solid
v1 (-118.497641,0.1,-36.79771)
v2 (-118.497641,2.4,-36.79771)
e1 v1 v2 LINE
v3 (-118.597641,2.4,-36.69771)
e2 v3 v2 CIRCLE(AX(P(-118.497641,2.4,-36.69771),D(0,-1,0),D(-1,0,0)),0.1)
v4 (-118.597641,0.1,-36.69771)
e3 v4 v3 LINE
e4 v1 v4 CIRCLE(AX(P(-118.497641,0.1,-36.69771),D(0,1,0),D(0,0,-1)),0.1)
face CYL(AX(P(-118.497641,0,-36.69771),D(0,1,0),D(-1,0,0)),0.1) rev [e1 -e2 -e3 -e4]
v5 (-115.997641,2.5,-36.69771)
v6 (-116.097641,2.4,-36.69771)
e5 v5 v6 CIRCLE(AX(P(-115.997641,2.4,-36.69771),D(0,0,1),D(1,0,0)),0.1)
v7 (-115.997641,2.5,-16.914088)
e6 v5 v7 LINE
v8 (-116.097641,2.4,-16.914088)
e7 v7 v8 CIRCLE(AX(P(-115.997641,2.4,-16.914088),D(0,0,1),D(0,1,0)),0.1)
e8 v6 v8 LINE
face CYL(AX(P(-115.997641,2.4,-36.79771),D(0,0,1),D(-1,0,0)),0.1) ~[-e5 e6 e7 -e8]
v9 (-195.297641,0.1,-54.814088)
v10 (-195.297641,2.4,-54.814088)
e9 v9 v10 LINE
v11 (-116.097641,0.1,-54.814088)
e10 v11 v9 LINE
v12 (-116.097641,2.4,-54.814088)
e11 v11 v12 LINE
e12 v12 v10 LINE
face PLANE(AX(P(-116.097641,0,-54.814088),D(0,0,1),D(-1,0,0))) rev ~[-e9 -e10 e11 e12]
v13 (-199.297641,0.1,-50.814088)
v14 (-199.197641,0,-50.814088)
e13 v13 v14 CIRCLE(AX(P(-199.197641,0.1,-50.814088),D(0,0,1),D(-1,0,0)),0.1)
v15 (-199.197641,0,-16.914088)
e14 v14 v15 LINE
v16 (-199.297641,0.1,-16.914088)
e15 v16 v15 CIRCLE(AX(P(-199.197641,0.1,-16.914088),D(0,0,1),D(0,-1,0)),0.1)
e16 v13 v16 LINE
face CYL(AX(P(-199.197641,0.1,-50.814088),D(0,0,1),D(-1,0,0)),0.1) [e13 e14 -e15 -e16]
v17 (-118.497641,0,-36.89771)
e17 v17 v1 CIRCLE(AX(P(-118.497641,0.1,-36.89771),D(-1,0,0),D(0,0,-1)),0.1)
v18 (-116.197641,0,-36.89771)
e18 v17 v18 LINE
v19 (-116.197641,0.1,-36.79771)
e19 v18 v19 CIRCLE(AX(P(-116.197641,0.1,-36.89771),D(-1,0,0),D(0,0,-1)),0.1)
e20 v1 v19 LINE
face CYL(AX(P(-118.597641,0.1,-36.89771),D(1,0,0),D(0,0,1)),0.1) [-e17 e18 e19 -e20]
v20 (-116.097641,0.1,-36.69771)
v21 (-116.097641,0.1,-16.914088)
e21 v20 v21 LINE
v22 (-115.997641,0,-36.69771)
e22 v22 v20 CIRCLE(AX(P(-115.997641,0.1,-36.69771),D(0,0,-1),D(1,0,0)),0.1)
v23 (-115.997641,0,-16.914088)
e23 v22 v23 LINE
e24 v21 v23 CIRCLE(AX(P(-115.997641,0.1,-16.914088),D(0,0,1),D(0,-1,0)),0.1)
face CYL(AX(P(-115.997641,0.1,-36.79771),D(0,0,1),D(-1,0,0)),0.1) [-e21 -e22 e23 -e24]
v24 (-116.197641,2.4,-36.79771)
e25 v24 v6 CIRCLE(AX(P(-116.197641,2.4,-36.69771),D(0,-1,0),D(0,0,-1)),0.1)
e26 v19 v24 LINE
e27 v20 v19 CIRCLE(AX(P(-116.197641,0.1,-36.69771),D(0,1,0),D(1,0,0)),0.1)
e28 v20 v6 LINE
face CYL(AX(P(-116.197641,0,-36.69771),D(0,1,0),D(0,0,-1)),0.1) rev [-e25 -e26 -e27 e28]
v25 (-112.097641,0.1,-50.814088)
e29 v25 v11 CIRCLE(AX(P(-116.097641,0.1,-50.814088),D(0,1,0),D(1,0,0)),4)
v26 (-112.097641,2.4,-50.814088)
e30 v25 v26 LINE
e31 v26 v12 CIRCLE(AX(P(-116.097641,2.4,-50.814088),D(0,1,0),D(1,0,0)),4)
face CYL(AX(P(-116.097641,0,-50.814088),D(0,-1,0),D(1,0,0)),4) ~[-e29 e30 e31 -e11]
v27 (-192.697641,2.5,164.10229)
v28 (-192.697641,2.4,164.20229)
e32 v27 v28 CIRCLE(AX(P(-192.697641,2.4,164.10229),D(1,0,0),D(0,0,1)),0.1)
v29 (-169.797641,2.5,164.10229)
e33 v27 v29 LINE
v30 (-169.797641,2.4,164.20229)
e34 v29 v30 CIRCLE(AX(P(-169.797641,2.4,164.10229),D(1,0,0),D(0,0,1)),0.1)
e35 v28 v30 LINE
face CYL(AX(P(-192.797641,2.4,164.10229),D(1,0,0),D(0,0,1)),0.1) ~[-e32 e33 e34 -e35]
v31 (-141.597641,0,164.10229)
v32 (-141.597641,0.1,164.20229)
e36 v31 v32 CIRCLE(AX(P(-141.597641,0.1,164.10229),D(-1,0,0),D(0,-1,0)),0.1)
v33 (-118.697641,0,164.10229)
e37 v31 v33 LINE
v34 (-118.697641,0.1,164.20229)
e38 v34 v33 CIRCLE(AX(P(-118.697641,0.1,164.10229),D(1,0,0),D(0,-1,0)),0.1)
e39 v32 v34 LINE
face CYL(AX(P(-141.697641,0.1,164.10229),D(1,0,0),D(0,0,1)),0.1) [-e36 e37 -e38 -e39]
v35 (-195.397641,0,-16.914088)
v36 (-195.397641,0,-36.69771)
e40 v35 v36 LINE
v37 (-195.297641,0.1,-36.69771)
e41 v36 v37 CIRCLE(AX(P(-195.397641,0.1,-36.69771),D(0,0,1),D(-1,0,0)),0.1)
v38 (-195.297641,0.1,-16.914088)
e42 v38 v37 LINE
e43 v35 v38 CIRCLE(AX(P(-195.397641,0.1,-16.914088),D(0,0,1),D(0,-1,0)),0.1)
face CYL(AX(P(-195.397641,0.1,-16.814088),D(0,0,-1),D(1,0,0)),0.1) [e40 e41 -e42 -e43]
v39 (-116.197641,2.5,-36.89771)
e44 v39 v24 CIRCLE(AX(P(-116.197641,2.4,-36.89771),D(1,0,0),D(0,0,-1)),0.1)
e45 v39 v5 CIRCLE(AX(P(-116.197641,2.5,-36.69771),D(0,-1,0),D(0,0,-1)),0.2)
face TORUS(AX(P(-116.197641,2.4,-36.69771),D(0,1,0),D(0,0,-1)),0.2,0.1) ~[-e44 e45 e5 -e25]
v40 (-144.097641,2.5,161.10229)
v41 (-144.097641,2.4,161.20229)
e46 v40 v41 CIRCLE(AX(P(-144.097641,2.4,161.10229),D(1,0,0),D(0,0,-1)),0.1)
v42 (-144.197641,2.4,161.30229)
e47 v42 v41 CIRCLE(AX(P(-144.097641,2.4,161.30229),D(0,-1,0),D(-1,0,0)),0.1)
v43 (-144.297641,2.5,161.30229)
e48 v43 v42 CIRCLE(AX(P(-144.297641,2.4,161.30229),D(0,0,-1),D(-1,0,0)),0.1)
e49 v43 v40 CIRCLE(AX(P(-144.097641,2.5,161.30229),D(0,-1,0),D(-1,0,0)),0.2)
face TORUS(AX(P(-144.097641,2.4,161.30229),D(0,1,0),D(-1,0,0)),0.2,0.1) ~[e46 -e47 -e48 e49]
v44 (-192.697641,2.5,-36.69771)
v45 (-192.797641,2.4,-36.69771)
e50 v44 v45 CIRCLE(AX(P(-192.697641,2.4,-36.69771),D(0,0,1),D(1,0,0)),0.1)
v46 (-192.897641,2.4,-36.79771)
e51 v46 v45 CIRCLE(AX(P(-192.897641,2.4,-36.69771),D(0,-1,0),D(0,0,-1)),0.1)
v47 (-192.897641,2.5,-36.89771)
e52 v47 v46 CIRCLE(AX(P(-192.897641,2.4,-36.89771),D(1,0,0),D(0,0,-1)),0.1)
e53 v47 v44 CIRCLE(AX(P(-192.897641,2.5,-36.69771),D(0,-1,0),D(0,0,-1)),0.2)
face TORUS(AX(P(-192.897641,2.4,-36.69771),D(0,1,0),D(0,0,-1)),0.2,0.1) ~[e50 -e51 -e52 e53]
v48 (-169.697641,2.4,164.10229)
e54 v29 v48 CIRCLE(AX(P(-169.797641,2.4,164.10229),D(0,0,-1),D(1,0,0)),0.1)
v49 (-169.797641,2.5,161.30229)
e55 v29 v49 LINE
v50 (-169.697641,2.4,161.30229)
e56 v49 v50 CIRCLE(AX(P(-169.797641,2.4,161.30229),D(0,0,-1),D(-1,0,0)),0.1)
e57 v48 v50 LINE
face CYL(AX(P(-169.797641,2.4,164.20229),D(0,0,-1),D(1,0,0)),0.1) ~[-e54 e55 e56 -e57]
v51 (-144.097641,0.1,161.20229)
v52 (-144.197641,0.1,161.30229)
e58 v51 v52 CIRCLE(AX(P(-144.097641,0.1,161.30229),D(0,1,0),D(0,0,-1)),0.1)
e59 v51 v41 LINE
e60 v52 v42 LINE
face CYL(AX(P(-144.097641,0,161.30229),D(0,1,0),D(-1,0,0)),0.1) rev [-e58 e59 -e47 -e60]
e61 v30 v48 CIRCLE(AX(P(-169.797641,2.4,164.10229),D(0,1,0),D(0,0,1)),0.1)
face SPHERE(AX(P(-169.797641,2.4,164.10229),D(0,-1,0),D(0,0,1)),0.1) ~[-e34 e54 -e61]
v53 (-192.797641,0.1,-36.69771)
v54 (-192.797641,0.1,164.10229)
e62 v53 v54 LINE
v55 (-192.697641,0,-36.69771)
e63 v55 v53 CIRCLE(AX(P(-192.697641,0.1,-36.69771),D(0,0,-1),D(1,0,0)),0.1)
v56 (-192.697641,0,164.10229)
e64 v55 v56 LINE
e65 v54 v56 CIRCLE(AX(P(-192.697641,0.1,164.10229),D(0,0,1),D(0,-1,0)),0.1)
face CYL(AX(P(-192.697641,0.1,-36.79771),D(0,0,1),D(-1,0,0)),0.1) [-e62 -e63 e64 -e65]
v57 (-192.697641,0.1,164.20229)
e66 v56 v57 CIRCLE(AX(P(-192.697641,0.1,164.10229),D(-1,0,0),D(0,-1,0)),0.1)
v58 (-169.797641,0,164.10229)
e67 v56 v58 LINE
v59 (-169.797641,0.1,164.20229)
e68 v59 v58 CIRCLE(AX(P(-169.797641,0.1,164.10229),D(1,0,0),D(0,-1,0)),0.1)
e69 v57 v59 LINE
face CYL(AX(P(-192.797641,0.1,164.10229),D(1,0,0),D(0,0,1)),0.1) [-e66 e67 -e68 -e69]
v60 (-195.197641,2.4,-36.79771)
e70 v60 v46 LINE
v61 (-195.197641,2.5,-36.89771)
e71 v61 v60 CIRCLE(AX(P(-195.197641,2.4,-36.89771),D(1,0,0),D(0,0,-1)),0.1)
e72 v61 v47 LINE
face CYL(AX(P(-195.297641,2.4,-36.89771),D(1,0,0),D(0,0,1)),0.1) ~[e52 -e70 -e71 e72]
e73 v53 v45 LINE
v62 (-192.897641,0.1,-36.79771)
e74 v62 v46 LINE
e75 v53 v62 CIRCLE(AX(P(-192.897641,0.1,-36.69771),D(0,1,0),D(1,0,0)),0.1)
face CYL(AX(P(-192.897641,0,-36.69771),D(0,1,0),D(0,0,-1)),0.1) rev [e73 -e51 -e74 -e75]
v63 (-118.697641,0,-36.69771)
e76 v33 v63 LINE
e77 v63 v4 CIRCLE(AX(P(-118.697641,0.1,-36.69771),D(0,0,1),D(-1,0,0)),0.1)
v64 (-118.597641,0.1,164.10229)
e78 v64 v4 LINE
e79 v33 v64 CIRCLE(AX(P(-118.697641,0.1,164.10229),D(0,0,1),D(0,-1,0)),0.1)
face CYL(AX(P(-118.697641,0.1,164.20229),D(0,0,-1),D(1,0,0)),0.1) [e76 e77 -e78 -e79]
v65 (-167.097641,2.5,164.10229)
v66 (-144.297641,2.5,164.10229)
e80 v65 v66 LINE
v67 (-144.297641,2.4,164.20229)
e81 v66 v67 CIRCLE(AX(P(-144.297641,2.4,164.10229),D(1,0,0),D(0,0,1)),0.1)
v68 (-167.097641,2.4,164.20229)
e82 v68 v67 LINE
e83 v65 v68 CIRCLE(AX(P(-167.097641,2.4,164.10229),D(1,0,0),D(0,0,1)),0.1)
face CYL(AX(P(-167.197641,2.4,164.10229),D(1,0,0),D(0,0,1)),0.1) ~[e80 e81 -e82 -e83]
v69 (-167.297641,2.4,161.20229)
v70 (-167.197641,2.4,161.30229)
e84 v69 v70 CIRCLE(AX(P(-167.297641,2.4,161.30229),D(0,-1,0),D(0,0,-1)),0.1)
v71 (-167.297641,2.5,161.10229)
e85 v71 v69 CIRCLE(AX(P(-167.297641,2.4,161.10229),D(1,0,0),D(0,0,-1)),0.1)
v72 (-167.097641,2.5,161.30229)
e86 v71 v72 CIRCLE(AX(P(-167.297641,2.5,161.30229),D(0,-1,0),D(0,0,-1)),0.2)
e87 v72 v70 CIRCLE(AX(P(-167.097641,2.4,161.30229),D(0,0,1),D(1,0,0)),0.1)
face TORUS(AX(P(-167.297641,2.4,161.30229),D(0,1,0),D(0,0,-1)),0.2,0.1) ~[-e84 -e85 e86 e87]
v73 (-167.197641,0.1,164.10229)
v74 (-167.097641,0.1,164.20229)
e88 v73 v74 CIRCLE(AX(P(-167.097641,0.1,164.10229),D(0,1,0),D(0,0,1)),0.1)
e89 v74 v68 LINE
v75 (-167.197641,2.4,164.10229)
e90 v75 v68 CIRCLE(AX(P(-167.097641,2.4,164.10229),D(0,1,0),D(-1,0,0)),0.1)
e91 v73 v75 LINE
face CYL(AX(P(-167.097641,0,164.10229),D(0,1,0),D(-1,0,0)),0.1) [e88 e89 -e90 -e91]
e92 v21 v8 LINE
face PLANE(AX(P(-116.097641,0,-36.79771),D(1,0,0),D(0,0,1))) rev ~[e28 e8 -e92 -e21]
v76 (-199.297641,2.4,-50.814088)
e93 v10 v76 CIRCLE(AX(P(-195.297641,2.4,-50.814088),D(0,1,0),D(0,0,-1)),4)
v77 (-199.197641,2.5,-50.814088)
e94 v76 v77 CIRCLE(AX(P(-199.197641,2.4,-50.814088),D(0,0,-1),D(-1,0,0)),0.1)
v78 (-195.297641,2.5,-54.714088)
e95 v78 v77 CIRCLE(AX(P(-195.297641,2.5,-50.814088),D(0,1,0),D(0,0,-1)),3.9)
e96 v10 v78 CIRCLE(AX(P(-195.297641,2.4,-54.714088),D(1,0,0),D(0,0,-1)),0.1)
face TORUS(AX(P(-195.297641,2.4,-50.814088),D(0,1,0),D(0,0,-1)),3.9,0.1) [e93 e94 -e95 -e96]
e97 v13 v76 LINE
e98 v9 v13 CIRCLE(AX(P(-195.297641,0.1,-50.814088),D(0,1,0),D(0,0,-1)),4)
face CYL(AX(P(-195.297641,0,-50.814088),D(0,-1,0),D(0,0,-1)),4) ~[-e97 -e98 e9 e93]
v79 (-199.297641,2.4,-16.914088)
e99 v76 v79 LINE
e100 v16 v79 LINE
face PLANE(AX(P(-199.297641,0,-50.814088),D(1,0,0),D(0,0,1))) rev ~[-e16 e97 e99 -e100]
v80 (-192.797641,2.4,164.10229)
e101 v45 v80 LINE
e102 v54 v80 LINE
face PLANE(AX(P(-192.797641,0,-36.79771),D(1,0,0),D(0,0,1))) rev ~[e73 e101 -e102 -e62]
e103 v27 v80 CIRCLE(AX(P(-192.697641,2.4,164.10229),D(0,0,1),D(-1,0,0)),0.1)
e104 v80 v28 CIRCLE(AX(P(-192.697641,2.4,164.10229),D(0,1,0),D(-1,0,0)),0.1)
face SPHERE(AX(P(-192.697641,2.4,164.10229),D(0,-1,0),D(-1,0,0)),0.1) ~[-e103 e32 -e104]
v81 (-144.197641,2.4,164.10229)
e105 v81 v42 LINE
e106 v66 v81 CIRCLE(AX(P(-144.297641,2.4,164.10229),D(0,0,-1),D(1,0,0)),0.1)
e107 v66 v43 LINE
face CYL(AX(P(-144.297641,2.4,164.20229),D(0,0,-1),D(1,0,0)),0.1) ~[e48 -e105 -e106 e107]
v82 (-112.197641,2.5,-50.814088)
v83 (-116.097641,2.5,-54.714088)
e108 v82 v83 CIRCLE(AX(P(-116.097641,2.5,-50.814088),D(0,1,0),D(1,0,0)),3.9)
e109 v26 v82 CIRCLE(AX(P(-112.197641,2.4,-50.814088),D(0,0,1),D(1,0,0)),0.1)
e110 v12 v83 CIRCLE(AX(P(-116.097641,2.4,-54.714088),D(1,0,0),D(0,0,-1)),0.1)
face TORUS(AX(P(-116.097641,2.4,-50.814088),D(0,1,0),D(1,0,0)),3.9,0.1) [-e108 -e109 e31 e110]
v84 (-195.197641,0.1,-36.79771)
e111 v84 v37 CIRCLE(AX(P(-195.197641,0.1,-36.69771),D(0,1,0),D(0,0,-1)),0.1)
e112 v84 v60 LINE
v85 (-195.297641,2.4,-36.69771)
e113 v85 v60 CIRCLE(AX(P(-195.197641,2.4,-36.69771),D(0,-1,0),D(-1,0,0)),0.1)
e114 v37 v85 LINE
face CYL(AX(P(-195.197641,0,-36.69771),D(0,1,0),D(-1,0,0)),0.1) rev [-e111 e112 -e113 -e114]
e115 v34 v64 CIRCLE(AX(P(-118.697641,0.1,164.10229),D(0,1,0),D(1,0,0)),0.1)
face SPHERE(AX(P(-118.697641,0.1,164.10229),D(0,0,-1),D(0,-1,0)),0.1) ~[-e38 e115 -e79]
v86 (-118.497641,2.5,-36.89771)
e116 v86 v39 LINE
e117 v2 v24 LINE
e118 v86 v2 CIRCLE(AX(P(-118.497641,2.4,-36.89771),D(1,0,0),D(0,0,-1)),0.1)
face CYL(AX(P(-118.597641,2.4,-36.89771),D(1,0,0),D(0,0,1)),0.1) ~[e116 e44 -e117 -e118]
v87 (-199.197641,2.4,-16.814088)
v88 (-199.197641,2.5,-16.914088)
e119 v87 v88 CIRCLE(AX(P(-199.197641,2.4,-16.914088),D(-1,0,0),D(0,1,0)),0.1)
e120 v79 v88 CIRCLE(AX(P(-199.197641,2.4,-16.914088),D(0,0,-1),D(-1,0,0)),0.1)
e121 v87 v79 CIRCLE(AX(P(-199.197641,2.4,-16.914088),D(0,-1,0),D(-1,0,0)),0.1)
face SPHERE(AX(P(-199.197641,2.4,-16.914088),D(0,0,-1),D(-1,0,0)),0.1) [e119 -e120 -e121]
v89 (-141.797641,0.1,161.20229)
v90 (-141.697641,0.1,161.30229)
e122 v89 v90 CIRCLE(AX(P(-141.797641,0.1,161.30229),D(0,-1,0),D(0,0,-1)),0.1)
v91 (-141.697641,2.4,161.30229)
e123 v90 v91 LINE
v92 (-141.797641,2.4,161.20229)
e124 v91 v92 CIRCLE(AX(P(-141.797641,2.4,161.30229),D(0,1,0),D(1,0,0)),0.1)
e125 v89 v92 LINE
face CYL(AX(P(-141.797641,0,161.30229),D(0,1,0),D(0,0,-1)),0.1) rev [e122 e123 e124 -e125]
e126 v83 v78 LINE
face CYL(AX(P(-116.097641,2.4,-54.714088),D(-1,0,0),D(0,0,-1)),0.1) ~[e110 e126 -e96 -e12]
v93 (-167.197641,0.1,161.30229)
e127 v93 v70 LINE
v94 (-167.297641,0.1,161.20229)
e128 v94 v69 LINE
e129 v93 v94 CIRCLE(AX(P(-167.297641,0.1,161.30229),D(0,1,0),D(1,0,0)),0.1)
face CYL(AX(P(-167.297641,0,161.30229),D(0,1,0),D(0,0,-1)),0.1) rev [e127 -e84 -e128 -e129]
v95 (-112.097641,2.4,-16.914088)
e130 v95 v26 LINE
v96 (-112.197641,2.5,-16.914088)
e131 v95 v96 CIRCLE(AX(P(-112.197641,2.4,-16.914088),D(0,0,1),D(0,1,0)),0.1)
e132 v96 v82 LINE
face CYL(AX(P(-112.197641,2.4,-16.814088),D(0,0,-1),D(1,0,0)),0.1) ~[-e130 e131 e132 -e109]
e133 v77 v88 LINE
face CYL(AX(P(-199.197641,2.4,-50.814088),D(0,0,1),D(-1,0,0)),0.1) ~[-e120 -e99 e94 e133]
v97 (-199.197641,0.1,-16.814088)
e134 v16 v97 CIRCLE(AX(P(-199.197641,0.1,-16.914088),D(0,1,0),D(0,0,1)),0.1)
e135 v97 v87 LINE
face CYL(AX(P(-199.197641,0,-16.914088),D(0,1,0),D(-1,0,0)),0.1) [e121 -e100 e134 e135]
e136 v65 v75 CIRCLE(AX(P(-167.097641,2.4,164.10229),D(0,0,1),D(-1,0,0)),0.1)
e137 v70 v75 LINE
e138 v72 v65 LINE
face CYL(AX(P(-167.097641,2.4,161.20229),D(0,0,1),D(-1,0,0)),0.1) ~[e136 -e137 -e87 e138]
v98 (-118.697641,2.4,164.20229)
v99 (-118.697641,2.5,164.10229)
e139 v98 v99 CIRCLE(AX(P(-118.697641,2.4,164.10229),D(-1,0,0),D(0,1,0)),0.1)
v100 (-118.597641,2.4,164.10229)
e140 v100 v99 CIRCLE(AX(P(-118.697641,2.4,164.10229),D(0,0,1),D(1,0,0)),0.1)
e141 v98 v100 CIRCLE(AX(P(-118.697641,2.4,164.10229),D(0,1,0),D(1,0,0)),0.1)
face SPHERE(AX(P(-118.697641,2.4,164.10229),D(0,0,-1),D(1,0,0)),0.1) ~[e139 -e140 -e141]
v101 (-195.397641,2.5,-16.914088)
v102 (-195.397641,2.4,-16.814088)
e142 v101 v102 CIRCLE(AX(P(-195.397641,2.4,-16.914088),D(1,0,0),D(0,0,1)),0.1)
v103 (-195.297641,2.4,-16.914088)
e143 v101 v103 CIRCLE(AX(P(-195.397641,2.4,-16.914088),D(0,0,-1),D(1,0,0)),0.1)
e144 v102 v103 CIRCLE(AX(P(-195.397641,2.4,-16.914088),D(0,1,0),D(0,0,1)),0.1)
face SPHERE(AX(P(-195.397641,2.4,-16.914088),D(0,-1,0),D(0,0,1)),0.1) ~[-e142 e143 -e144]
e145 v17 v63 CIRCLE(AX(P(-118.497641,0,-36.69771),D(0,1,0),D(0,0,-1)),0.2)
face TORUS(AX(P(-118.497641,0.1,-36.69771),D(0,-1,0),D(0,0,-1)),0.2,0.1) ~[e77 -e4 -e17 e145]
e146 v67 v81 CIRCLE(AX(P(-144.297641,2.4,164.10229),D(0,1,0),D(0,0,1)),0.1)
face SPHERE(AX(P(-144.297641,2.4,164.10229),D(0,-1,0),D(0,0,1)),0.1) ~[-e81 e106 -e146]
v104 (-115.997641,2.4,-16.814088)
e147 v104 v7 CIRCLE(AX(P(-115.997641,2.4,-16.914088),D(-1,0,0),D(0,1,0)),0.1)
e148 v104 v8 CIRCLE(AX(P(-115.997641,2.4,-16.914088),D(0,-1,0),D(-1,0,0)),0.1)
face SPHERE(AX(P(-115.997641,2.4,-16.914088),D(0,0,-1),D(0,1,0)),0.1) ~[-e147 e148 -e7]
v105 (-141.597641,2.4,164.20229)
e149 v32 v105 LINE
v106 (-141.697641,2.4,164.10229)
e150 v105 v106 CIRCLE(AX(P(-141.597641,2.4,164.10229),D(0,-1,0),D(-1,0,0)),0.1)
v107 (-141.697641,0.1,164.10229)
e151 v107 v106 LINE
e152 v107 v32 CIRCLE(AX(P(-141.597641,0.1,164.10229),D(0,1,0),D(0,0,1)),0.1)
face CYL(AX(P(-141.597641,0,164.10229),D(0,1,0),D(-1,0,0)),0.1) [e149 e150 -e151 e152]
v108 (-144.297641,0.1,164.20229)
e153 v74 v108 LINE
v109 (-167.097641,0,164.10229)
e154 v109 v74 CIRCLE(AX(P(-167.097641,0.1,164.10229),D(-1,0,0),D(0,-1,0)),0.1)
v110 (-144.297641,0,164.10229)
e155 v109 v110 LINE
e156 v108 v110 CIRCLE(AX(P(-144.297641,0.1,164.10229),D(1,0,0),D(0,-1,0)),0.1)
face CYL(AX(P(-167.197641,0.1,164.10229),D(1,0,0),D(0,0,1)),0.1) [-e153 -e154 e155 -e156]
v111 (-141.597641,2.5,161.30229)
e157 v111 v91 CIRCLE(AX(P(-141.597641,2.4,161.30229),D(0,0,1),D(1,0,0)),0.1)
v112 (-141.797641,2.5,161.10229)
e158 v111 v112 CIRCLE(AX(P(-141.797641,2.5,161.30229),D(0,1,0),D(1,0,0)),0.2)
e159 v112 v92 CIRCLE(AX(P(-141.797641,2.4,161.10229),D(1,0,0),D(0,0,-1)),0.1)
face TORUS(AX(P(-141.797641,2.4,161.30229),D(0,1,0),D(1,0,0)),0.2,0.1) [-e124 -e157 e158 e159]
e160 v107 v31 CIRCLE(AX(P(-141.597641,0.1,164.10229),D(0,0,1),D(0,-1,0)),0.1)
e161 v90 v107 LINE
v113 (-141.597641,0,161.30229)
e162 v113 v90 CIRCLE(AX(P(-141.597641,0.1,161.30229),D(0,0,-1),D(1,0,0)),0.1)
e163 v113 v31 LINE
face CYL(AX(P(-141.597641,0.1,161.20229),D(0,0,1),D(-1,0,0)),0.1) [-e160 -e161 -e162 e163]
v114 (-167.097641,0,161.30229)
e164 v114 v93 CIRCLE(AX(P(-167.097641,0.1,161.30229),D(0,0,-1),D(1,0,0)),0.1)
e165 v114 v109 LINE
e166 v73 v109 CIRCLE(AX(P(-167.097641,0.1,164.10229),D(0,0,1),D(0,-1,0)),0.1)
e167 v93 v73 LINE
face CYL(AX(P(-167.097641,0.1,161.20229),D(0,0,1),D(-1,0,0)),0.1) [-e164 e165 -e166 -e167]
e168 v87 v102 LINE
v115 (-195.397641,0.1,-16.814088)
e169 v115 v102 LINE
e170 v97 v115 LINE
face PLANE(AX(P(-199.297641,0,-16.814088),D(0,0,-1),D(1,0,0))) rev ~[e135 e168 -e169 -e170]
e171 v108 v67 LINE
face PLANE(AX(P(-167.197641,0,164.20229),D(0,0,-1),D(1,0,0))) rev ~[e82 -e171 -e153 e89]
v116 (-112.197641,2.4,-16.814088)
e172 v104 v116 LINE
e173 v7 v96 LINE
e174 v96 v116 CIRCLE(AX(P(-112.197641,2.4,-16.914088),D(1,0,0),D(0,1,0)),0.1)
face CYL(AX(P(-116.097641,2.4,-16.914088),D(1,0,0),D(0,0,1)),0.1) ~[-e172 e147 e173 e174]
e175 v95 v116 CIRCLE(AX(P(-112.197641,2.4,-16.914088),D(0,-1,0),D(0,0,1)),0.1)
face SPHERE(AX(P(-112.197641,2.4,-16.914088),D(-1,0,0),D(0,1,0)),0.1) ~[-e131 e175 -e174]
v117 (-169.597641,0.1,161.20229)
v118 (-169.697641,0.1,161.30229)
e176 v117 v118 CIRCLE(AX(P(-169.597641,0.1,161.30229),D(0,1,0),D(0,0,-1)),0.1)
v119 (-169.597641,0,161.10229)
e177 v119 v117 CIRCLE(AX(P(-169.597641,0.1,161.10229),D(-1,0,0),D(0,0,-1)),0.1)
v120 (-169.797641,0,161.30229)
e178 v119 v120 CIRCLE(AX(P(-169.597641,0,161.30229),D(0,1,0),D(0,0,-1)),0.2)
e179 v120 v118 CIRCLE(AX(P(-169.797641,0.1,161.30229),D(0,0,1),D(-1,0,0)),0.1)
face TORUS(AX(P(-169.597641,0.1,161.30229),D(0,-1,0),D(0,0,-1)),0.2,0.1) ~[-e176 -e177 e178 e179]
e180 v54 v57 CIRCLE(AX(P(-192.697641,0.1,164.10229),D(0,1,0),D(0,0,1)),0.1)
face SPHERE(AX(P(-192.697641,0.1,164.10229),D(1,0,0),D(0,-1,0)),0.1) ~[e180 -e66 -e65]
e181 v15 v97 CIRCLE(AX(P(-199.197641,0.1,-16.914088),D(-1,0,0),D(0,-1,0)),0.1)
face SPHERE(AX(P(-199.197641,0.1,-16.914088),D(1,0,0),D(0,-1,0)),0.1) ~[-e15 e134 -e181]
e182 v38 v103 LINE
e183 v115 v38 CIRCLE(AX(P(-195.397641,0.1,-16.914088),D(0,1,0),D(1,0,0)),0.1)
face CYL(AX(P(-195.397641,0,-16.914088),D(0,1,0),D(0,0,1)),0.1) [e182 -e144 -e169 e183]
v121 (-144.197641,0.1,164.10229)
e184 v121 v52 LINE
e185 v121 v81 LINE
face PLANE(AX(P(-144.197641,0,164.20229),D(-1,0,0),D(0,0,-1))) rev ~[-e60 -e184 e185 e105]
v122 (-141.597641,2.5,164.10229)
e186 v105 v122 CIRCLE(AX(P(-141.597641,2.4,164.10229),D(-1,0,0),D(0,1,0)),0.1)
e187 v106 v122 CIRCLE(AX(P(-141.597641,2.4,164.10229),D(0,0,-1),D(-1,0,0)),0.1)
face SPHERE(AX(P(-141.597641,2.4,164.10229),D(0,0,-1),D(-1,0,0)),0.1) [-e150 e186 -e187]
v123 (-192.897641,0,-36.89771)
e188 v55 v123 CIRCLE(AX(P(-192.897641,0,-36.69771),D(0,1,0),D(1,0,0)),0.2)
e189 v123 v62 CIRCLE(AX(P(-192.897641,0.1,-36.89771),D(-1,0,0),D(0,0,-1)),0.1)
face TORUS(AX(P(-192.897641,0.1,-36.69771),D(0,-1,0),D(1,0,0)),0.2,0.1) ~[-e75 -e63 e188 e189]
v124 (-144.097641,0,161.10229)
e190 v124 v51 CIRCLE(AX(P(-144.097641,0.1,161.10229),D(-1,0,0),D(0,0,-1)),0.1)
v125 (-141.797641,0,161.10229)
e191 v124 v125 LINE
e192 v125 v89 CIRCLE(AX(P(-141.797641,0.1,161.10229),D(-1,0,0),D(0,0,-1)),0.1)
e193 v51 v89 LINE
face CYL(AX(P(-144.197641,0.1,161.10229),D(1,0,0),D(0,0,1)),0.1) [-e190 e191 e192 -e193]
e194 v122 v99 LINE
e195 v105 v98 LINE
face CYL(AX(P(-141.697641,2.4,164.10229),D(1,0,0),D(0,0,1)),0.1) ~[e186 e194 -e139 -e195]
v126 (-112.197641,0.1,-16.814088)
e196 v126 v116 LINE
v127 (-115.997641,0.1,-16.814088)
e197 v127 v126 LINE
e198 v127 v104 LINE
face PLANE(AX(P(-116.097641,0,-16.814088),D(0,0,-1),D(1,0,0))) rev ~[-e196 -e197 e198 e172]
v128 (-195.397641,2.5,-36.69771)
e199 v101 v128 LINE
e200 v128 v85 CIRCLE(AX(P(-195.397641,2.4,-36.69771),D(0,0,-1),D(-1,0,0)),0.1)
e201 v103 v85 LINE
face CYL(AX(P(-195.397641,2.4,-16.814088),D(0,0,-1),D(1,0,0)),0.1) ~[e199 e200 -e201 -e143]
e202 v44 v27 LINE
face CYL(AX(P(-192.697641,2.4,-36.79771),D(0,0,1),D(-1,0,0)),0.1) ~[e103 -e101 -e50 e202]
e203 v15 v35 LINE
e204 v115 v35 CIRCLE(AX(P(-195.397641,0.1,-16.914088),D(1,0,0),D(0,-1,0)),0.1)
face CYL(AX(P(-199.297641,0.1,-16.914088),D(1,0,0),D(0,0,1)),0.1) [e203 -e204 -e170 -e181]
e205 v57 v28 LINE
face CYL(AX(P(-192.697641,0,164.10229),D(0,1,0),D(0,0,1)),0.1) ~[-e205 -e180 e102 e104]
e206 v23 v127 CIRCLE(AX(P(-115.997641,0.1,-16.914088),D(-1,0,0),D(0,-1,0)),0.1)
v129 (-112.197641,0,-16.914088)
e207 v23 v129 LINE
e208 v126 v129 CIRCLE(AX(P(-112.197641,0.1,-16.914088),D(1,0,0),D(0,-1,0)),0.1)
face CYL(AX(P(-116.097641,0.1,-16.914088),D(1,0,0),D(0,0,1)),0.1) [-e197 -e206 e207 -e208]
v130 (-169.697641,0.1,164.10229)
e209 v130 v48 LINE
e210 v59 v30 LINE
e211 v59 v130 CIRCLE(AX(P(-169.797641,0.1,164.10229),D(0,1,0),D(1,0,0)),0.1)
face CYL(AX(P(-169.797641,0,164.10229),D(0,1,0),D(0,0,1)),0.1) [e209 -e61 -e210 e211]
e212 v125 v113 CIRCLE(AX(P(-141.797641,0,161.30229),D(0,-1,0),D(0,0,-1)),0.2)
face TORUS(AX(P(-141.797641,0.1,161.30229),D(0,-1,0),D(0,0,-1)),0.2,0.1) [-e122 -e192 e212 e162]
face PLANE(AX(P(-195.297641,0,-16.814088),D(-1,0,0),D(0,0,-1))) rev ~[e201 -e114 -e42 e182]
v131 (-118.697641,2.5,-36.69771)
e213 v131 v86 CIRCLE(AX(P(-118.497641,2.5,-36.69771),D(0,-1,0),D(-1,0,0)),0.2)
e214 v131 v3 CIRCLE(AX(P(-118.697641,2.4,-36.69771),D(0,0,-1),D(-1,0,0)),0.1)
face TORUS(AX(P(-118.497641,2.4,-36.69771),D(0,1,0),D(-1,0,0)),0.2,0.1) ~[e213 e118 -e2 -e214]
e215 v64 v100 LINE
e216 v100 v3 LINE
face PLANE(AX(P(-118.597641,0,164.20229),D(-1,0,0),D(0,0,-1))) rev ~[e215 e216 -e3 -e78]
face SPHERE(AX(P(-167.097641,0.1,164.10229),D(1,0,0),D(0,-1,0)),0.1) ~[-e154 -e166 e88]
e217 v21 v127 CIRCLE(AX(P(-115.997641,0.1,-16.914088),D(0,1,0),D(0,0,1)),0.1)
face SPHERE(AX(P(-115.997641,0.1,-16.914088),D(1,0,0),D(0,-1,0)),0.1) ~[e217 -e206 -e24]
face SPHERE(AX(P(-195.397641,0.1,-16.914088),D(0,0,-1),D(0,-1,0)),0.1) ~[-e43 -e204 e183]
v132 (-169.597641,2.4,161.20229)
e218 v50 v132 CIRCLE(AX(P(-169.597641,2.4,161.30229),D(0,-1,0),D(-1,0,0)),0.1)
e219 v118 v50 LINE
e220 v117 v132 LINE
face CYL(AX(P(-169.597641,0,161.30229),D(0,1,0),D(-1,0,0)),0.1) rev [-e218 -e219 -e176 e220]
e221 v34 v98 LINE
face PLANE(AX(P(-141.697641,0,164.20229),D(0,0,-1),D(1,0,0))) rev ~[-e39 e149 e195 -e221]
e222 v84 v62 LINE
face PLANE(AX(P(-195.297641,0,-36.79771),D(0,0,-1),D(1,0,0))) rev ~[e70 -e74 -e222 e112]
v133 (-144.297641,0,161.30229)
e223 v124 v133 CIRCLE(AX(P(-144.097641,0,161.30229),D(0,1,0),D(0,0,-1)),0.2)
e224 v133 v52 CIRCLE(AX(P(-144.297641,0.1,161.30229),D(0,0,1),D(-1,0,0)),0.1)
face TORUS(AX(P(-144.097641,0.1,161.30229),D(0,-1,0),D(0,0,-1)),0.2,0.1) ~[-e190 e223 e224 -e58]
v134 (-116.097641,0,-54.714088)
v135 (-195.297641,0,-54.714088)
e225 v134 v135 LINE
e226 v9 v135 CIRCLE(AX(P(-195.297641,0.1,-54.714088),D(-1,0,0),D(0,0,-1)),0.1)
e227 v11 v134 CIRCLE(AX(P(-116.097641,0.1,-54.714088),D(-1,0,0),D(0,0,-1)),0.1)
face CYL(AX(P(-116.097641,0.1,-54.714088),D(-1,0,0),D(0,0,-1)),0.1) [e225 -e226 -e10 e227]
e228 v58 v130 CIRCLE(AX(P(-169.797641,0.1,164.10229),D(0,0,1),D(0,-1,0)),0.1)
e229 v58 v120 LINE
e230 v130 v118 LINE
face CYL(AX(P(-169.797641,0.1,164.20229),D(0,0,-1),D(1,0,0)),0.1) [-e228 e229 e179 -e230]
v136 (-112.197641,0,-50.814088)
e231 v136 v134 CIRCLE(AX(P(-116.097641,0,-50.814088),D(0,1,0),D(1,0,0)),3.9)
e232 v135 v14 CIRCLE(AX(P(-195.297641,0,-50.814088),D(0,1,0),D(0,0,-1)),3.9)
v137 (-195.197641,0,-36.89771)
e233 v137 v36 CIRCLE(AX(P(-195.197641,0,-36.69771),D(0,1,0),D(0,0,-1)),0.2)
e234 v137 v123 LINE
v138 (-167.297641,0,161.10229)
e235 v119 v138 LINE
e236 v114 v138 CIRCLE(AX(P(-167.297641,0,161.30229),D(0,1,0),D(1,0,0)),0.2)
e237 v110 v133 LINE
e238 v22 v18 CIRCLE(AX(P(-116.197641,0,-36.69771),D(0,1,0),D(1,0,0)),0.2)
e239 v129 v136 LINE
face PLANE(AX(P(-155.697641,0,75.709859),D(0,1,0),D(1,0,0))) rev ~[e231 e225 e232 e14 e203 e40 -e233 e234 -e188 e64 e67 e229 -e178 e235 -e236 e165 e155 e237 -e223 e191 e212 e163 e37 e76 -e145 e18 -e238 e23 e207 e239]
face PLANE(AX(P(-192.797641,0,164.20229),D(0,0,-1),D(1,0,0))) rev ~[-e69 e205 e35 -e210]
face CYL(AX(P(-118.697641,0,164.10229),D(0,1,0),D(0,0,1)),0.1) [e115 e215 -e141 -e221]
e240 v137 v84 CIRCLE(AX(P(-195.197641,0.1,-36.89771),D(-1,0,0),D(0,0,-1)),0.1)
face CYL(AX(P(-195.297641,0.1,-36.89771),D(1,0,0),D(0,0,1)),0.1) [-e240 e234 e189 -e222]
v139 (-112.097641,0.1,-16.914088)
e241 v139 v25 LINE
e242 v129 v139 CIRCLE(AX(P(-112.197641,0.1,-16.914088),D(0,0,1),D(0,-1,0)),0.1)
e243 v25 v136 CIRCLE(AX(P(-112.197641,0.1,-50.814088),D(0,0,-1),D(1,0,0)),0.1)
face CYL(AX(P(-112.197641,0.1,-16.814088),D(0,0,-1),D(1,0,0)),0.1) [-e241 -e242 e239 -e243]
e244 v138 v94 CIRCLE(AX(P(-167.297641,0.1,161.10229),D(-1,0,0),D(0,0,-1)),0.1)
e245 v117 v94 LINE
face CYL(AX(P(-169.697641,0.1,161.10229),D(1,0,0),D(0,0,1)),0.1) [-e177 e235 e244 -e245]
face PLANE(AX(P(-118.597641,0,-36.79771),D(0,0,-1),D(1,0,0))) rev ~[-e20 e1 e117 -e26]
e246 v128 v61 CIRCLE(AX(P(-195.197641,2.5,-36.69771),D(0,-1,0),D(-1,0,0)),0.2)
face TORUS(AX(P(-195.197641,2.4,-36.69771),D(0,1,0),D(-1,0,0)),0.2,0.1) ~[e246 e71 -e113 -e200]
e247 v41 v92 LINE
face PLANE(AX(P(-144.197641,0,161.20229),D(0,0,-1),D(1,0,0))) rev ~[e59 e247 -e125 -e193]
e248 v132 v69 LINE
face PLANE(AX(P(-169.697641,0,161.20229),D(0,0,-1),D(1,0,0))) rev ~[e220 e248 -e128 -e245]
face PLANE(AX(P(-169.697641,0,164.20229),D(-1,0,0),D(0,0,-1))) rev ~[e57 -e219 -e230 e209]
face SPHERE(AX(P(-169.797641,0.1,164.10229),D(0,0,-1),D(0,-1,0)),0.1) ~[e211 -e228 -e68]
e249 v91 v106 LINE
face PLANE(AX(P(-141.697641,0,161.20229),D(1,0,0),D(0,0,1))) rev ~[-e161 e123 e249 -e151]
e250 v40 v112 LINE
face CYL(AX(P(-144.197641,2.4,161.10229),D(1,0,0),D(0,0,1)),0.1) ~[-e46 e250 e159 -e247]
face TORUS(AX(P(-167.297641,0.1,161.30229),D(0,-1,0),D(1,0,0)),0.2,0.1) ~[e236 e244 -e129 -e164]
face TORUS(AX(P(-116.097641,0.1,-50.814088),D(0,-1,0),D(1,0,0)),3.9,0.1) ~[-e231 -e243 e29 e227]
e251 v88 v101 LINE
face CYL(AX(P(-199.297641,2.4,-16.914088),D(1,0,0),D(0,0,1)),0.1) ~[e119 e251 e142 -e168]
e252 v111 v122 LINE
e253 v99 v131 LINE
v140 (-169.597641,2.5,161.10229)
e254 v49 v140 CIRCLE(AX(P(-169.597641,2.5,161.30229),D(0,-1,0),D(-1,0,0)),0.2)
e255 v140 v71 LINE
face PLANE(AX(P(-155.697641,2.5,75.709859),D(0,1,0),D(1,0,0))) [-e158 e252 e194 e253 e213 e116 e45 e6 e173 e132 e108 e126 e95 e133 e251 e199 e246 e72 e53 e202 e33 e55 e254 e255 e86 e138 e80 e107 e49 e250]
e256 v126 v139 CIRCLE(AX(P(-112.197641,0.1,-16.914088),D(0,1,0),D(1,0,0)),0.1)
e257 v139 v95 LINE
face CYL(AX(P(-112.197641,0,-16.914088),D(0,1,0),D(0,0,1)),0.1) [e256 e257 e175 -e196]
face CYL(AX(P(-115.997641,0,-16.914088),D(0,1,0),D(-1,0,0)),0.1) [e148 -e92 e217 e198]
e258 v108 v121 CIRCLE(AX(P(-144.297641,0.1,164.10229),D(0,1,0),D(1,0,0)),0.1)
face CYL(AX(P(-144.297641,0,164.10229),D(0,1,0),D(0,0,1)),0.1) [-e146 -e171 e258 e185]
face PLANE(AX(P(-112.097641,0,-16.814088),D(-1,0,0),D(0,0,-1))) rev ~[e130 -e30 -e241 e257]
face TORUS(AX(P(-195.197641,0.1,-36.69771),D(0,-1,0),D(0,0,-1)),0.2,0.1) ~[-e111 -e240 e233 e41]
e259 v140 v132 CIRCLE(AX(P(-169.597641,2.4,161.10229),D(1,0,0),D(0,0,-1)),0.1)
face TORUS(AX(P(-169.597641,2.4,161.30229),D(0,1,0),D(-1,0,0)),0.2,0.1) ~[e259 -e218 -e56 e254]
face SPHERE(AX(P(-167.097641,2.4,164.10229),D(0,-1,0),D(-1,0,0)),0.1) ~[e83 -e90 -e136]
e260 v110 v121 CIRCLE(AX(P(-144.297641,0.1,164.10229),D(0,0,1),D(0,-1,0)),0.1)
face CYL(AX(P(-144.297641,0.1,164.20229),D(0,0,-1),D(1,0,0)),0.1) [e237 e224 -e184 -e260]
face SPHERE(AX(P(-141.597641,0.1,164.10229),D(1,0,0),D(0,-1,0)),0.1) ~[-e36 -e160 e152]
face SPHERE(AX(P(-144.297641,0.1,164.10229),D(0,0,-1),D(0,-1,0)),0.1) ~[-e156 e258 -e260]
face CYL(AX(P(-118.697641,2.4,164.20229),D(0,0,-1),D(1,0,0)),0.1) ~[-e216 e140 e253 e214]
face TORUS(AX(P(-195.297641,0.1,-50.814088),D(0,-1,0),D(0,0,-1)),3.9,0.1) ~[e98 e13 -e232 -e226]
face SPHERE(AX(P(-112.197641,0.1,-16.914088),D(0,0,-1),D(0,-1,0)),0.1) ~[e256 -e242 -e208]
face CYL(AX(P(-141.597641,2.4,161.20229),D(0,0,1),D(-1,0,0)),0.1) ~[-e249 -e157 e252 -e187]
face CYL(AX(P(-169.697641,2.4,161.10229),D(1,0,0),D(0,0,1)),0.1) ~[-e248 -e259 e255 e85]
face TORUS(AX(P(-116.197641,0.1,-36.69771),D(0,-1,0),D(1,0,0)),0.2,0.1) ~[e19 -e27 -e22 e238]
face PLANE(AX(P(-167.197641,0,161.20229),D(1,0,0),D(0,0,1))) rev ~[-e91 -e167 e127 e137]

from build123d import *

# Parameters (mm, degrees)
ESBO_O1_W                = 74.2
ESBO_O1_H                = 19.98362215
RESSALTO_EXTRUS_O1_DEPTH = 2.5
FILETE1_R                = 0.1


with BuildPart() as part:
    # Esboço1 → Ressalto-extrusão1 (new body)
    with BuildSketch(Plane(origin=(0, 0, 0), x_dir=(1, 0, 0), z_dir=(0, 1, 0))):
        Polygon((-118.597641475, 16.814088048), (-192.797641475, 16.814088048), (-192.797641475, -164.202289802), (-169.697641475, -164.202289802), (-169.697641475, -161.202289802), (-167.197641475, -161.202289802), (-167.197641475, -164.202289802), (-144.197641475, -164.202289802), (-144.197641475, -161.202289802), (-141.697641475, -161.202289802), (-141.697641475, -164.202289802), (-118.597641475, -164.202289802), align=None)
        with Locations((-155.697641475, 26.805899123)):
            Rectangle(ESBO_O1_W, ESBO_O1_H)
        with BuildLine():
            Line((-195.297641475, 36.797710198), (-192.797641475, 36.797710198))
            Line((-192.797641475, 36.797710198), (-118.597641475, 36.797710198))
            Line((-118.597641475, 36.797710198), (-116.097641475, 36.797710198))
            Line((-116.097641475, 36.797710198), (-116.097641475, 16.814088048))
            Line((-116.097641475, 16.814088048), (-112.097641475, 16.814088048))
            Line((-112.097641475, 16.814088048), (-112.097641475, 50.814088048))
            ThreePointArc((-112.097641475, 50.814088048), (-113.26921435, 53.642515173), (-116.097641475, 54.814088048))
            Line((-116.097641475, 54.814088048), (-195.297641475, 54.814088048))
            ThreePointArc((-195.297641475, 54.814088048), (-198.126068599, 53.642515173), (-199.297641475, 50.814088048))
            Line((-199.297641475, 50.814088048), (-199.297641475, 16.814088048))
            Line((-199.297641475, 16.814088048), (-195.297641475, 16.814088048))
            Line((-195.297641475, 16.814088048), (-195.297641475, 36.797710198))
        make_face()
    extrude(amount=RESSALTO_EXTRUS_O1_DEPTH)

    # Filete1
    filete1_edges = [part.edges().sort_by_distance(p)[0] for p in [
        (-118.597641475, 2.5, 63.702289802),
        (-117.347641475, 2.5, -36.797710198),
        (-142.947641475, 0, 161.202289802),
        (-144.197641475, 0, 162.702289802),
        (-155.697641475, 0, 164.202289802),
        (-167.197641475, 0, 162.702289802),
        (-168.447641475, 0, 161.202289802),
        (-116.097641475, 2.5, -26.805899123),
        (-169.697641475, 0, 162.702289802),
        (-181.247641475, 0, 164.202289802),
        (-192.797641475, 0, 63.702289802),
        (-194.047641475, 0, -36.797710198),
        (-195.297641475, 0, -26.805899123),
        (-197.297641475, 0, -16.814088048),
        (-199.297641475, 0, -33.814088048),
        (-114.097641475, 2.5, -16.814088048),
        (-198.126068599, 0, -53.642515173),
        (-155.697641475, 0, -54.814088048),
        (-113.26921435, 0, -53.642515173),
        (-112.097641475, 0, -33.814088048),
        (-114.097641475, 0, -16.814088048),
        (-116.097641475, 0, -26.805899123),
        (-117.347641475, 0, -36.797710198),
        (-118.597641475, 0, 63.702289802),
        (-112.097641475, 2.5, -33.814088048),
        (-130.147641475, 0, 164.202289802),
        (-141.697641475, 0, 162.702289802),
        (-113.26921435, 2.5, -53.642515173),
        (-141.697641475, 1.25, 161.202289802),
        (-144.197641475, 1.25, 161.202289802),
        (-141.697641475, 2.5, 162.702289802),
        (-155.697641475, 2.5, -54.814088048),
        (-144.197641475, 1.25, 164.202289802),
        (-167.197641475, 1.25, 164.202289802),
        (-167.197641475, 1.25, 161.202289802),
        (-169.697641475, 1.25, 161.202289802),
        (-169.697641475, 1.25, 164.202289802),
        (-192.797641475, 1.25, 164.202289802),
        (-192.797641475, 1.25, -36.797710198),
        (-195.297641475, 1.25, -36.797710198),
        (-195.297641475, 1.25, -16.814088048),
        (-199.297641475, 1.25, -16.814088048),
        (-112.097641475, 1.25, -16.814088048),
        (-116.097641475, 1.25, -16.814088048),
        (-116.097641475, 1.25, -36.797710198),
        (-118.597641475, 1.25, -36.797710198),
        (-118.597641475, 1.25, 164.202289802),
        (-141.697641475, 1.25, 164.202289802),
        (-198.126068599, 2.5, -53.642515173),
        (-199.297641475, 2.5, -33.814088048),
        (-197.297641475, 2.5, -16.814088048),
        (-195.297641475, 2.5, -26.805899123),
        (-194.047641475, 2.5, -36.797710198),
        (-192.797641475, 2.5, 63.702289802),
        (-181.247641475, 2.5, 164.202289802),
        (-169.697641475, 2.5, 162.702289802),
        (-168.447641475, 2.5, 161.202289802),
        (-130.147641475, 2.5, 164.202289802),
        (-167.197641475, 2.5, 162.702289802),
        (-155.697641475, 2.5, 164.202289802),
        (-144.197641475, 2.5, 162.702289802),
        (-142.947641475, 2.5, 161.202289802),
    ]]
    fillet(filete1_edges, radius=FILETE1_R)


solid = part.part
